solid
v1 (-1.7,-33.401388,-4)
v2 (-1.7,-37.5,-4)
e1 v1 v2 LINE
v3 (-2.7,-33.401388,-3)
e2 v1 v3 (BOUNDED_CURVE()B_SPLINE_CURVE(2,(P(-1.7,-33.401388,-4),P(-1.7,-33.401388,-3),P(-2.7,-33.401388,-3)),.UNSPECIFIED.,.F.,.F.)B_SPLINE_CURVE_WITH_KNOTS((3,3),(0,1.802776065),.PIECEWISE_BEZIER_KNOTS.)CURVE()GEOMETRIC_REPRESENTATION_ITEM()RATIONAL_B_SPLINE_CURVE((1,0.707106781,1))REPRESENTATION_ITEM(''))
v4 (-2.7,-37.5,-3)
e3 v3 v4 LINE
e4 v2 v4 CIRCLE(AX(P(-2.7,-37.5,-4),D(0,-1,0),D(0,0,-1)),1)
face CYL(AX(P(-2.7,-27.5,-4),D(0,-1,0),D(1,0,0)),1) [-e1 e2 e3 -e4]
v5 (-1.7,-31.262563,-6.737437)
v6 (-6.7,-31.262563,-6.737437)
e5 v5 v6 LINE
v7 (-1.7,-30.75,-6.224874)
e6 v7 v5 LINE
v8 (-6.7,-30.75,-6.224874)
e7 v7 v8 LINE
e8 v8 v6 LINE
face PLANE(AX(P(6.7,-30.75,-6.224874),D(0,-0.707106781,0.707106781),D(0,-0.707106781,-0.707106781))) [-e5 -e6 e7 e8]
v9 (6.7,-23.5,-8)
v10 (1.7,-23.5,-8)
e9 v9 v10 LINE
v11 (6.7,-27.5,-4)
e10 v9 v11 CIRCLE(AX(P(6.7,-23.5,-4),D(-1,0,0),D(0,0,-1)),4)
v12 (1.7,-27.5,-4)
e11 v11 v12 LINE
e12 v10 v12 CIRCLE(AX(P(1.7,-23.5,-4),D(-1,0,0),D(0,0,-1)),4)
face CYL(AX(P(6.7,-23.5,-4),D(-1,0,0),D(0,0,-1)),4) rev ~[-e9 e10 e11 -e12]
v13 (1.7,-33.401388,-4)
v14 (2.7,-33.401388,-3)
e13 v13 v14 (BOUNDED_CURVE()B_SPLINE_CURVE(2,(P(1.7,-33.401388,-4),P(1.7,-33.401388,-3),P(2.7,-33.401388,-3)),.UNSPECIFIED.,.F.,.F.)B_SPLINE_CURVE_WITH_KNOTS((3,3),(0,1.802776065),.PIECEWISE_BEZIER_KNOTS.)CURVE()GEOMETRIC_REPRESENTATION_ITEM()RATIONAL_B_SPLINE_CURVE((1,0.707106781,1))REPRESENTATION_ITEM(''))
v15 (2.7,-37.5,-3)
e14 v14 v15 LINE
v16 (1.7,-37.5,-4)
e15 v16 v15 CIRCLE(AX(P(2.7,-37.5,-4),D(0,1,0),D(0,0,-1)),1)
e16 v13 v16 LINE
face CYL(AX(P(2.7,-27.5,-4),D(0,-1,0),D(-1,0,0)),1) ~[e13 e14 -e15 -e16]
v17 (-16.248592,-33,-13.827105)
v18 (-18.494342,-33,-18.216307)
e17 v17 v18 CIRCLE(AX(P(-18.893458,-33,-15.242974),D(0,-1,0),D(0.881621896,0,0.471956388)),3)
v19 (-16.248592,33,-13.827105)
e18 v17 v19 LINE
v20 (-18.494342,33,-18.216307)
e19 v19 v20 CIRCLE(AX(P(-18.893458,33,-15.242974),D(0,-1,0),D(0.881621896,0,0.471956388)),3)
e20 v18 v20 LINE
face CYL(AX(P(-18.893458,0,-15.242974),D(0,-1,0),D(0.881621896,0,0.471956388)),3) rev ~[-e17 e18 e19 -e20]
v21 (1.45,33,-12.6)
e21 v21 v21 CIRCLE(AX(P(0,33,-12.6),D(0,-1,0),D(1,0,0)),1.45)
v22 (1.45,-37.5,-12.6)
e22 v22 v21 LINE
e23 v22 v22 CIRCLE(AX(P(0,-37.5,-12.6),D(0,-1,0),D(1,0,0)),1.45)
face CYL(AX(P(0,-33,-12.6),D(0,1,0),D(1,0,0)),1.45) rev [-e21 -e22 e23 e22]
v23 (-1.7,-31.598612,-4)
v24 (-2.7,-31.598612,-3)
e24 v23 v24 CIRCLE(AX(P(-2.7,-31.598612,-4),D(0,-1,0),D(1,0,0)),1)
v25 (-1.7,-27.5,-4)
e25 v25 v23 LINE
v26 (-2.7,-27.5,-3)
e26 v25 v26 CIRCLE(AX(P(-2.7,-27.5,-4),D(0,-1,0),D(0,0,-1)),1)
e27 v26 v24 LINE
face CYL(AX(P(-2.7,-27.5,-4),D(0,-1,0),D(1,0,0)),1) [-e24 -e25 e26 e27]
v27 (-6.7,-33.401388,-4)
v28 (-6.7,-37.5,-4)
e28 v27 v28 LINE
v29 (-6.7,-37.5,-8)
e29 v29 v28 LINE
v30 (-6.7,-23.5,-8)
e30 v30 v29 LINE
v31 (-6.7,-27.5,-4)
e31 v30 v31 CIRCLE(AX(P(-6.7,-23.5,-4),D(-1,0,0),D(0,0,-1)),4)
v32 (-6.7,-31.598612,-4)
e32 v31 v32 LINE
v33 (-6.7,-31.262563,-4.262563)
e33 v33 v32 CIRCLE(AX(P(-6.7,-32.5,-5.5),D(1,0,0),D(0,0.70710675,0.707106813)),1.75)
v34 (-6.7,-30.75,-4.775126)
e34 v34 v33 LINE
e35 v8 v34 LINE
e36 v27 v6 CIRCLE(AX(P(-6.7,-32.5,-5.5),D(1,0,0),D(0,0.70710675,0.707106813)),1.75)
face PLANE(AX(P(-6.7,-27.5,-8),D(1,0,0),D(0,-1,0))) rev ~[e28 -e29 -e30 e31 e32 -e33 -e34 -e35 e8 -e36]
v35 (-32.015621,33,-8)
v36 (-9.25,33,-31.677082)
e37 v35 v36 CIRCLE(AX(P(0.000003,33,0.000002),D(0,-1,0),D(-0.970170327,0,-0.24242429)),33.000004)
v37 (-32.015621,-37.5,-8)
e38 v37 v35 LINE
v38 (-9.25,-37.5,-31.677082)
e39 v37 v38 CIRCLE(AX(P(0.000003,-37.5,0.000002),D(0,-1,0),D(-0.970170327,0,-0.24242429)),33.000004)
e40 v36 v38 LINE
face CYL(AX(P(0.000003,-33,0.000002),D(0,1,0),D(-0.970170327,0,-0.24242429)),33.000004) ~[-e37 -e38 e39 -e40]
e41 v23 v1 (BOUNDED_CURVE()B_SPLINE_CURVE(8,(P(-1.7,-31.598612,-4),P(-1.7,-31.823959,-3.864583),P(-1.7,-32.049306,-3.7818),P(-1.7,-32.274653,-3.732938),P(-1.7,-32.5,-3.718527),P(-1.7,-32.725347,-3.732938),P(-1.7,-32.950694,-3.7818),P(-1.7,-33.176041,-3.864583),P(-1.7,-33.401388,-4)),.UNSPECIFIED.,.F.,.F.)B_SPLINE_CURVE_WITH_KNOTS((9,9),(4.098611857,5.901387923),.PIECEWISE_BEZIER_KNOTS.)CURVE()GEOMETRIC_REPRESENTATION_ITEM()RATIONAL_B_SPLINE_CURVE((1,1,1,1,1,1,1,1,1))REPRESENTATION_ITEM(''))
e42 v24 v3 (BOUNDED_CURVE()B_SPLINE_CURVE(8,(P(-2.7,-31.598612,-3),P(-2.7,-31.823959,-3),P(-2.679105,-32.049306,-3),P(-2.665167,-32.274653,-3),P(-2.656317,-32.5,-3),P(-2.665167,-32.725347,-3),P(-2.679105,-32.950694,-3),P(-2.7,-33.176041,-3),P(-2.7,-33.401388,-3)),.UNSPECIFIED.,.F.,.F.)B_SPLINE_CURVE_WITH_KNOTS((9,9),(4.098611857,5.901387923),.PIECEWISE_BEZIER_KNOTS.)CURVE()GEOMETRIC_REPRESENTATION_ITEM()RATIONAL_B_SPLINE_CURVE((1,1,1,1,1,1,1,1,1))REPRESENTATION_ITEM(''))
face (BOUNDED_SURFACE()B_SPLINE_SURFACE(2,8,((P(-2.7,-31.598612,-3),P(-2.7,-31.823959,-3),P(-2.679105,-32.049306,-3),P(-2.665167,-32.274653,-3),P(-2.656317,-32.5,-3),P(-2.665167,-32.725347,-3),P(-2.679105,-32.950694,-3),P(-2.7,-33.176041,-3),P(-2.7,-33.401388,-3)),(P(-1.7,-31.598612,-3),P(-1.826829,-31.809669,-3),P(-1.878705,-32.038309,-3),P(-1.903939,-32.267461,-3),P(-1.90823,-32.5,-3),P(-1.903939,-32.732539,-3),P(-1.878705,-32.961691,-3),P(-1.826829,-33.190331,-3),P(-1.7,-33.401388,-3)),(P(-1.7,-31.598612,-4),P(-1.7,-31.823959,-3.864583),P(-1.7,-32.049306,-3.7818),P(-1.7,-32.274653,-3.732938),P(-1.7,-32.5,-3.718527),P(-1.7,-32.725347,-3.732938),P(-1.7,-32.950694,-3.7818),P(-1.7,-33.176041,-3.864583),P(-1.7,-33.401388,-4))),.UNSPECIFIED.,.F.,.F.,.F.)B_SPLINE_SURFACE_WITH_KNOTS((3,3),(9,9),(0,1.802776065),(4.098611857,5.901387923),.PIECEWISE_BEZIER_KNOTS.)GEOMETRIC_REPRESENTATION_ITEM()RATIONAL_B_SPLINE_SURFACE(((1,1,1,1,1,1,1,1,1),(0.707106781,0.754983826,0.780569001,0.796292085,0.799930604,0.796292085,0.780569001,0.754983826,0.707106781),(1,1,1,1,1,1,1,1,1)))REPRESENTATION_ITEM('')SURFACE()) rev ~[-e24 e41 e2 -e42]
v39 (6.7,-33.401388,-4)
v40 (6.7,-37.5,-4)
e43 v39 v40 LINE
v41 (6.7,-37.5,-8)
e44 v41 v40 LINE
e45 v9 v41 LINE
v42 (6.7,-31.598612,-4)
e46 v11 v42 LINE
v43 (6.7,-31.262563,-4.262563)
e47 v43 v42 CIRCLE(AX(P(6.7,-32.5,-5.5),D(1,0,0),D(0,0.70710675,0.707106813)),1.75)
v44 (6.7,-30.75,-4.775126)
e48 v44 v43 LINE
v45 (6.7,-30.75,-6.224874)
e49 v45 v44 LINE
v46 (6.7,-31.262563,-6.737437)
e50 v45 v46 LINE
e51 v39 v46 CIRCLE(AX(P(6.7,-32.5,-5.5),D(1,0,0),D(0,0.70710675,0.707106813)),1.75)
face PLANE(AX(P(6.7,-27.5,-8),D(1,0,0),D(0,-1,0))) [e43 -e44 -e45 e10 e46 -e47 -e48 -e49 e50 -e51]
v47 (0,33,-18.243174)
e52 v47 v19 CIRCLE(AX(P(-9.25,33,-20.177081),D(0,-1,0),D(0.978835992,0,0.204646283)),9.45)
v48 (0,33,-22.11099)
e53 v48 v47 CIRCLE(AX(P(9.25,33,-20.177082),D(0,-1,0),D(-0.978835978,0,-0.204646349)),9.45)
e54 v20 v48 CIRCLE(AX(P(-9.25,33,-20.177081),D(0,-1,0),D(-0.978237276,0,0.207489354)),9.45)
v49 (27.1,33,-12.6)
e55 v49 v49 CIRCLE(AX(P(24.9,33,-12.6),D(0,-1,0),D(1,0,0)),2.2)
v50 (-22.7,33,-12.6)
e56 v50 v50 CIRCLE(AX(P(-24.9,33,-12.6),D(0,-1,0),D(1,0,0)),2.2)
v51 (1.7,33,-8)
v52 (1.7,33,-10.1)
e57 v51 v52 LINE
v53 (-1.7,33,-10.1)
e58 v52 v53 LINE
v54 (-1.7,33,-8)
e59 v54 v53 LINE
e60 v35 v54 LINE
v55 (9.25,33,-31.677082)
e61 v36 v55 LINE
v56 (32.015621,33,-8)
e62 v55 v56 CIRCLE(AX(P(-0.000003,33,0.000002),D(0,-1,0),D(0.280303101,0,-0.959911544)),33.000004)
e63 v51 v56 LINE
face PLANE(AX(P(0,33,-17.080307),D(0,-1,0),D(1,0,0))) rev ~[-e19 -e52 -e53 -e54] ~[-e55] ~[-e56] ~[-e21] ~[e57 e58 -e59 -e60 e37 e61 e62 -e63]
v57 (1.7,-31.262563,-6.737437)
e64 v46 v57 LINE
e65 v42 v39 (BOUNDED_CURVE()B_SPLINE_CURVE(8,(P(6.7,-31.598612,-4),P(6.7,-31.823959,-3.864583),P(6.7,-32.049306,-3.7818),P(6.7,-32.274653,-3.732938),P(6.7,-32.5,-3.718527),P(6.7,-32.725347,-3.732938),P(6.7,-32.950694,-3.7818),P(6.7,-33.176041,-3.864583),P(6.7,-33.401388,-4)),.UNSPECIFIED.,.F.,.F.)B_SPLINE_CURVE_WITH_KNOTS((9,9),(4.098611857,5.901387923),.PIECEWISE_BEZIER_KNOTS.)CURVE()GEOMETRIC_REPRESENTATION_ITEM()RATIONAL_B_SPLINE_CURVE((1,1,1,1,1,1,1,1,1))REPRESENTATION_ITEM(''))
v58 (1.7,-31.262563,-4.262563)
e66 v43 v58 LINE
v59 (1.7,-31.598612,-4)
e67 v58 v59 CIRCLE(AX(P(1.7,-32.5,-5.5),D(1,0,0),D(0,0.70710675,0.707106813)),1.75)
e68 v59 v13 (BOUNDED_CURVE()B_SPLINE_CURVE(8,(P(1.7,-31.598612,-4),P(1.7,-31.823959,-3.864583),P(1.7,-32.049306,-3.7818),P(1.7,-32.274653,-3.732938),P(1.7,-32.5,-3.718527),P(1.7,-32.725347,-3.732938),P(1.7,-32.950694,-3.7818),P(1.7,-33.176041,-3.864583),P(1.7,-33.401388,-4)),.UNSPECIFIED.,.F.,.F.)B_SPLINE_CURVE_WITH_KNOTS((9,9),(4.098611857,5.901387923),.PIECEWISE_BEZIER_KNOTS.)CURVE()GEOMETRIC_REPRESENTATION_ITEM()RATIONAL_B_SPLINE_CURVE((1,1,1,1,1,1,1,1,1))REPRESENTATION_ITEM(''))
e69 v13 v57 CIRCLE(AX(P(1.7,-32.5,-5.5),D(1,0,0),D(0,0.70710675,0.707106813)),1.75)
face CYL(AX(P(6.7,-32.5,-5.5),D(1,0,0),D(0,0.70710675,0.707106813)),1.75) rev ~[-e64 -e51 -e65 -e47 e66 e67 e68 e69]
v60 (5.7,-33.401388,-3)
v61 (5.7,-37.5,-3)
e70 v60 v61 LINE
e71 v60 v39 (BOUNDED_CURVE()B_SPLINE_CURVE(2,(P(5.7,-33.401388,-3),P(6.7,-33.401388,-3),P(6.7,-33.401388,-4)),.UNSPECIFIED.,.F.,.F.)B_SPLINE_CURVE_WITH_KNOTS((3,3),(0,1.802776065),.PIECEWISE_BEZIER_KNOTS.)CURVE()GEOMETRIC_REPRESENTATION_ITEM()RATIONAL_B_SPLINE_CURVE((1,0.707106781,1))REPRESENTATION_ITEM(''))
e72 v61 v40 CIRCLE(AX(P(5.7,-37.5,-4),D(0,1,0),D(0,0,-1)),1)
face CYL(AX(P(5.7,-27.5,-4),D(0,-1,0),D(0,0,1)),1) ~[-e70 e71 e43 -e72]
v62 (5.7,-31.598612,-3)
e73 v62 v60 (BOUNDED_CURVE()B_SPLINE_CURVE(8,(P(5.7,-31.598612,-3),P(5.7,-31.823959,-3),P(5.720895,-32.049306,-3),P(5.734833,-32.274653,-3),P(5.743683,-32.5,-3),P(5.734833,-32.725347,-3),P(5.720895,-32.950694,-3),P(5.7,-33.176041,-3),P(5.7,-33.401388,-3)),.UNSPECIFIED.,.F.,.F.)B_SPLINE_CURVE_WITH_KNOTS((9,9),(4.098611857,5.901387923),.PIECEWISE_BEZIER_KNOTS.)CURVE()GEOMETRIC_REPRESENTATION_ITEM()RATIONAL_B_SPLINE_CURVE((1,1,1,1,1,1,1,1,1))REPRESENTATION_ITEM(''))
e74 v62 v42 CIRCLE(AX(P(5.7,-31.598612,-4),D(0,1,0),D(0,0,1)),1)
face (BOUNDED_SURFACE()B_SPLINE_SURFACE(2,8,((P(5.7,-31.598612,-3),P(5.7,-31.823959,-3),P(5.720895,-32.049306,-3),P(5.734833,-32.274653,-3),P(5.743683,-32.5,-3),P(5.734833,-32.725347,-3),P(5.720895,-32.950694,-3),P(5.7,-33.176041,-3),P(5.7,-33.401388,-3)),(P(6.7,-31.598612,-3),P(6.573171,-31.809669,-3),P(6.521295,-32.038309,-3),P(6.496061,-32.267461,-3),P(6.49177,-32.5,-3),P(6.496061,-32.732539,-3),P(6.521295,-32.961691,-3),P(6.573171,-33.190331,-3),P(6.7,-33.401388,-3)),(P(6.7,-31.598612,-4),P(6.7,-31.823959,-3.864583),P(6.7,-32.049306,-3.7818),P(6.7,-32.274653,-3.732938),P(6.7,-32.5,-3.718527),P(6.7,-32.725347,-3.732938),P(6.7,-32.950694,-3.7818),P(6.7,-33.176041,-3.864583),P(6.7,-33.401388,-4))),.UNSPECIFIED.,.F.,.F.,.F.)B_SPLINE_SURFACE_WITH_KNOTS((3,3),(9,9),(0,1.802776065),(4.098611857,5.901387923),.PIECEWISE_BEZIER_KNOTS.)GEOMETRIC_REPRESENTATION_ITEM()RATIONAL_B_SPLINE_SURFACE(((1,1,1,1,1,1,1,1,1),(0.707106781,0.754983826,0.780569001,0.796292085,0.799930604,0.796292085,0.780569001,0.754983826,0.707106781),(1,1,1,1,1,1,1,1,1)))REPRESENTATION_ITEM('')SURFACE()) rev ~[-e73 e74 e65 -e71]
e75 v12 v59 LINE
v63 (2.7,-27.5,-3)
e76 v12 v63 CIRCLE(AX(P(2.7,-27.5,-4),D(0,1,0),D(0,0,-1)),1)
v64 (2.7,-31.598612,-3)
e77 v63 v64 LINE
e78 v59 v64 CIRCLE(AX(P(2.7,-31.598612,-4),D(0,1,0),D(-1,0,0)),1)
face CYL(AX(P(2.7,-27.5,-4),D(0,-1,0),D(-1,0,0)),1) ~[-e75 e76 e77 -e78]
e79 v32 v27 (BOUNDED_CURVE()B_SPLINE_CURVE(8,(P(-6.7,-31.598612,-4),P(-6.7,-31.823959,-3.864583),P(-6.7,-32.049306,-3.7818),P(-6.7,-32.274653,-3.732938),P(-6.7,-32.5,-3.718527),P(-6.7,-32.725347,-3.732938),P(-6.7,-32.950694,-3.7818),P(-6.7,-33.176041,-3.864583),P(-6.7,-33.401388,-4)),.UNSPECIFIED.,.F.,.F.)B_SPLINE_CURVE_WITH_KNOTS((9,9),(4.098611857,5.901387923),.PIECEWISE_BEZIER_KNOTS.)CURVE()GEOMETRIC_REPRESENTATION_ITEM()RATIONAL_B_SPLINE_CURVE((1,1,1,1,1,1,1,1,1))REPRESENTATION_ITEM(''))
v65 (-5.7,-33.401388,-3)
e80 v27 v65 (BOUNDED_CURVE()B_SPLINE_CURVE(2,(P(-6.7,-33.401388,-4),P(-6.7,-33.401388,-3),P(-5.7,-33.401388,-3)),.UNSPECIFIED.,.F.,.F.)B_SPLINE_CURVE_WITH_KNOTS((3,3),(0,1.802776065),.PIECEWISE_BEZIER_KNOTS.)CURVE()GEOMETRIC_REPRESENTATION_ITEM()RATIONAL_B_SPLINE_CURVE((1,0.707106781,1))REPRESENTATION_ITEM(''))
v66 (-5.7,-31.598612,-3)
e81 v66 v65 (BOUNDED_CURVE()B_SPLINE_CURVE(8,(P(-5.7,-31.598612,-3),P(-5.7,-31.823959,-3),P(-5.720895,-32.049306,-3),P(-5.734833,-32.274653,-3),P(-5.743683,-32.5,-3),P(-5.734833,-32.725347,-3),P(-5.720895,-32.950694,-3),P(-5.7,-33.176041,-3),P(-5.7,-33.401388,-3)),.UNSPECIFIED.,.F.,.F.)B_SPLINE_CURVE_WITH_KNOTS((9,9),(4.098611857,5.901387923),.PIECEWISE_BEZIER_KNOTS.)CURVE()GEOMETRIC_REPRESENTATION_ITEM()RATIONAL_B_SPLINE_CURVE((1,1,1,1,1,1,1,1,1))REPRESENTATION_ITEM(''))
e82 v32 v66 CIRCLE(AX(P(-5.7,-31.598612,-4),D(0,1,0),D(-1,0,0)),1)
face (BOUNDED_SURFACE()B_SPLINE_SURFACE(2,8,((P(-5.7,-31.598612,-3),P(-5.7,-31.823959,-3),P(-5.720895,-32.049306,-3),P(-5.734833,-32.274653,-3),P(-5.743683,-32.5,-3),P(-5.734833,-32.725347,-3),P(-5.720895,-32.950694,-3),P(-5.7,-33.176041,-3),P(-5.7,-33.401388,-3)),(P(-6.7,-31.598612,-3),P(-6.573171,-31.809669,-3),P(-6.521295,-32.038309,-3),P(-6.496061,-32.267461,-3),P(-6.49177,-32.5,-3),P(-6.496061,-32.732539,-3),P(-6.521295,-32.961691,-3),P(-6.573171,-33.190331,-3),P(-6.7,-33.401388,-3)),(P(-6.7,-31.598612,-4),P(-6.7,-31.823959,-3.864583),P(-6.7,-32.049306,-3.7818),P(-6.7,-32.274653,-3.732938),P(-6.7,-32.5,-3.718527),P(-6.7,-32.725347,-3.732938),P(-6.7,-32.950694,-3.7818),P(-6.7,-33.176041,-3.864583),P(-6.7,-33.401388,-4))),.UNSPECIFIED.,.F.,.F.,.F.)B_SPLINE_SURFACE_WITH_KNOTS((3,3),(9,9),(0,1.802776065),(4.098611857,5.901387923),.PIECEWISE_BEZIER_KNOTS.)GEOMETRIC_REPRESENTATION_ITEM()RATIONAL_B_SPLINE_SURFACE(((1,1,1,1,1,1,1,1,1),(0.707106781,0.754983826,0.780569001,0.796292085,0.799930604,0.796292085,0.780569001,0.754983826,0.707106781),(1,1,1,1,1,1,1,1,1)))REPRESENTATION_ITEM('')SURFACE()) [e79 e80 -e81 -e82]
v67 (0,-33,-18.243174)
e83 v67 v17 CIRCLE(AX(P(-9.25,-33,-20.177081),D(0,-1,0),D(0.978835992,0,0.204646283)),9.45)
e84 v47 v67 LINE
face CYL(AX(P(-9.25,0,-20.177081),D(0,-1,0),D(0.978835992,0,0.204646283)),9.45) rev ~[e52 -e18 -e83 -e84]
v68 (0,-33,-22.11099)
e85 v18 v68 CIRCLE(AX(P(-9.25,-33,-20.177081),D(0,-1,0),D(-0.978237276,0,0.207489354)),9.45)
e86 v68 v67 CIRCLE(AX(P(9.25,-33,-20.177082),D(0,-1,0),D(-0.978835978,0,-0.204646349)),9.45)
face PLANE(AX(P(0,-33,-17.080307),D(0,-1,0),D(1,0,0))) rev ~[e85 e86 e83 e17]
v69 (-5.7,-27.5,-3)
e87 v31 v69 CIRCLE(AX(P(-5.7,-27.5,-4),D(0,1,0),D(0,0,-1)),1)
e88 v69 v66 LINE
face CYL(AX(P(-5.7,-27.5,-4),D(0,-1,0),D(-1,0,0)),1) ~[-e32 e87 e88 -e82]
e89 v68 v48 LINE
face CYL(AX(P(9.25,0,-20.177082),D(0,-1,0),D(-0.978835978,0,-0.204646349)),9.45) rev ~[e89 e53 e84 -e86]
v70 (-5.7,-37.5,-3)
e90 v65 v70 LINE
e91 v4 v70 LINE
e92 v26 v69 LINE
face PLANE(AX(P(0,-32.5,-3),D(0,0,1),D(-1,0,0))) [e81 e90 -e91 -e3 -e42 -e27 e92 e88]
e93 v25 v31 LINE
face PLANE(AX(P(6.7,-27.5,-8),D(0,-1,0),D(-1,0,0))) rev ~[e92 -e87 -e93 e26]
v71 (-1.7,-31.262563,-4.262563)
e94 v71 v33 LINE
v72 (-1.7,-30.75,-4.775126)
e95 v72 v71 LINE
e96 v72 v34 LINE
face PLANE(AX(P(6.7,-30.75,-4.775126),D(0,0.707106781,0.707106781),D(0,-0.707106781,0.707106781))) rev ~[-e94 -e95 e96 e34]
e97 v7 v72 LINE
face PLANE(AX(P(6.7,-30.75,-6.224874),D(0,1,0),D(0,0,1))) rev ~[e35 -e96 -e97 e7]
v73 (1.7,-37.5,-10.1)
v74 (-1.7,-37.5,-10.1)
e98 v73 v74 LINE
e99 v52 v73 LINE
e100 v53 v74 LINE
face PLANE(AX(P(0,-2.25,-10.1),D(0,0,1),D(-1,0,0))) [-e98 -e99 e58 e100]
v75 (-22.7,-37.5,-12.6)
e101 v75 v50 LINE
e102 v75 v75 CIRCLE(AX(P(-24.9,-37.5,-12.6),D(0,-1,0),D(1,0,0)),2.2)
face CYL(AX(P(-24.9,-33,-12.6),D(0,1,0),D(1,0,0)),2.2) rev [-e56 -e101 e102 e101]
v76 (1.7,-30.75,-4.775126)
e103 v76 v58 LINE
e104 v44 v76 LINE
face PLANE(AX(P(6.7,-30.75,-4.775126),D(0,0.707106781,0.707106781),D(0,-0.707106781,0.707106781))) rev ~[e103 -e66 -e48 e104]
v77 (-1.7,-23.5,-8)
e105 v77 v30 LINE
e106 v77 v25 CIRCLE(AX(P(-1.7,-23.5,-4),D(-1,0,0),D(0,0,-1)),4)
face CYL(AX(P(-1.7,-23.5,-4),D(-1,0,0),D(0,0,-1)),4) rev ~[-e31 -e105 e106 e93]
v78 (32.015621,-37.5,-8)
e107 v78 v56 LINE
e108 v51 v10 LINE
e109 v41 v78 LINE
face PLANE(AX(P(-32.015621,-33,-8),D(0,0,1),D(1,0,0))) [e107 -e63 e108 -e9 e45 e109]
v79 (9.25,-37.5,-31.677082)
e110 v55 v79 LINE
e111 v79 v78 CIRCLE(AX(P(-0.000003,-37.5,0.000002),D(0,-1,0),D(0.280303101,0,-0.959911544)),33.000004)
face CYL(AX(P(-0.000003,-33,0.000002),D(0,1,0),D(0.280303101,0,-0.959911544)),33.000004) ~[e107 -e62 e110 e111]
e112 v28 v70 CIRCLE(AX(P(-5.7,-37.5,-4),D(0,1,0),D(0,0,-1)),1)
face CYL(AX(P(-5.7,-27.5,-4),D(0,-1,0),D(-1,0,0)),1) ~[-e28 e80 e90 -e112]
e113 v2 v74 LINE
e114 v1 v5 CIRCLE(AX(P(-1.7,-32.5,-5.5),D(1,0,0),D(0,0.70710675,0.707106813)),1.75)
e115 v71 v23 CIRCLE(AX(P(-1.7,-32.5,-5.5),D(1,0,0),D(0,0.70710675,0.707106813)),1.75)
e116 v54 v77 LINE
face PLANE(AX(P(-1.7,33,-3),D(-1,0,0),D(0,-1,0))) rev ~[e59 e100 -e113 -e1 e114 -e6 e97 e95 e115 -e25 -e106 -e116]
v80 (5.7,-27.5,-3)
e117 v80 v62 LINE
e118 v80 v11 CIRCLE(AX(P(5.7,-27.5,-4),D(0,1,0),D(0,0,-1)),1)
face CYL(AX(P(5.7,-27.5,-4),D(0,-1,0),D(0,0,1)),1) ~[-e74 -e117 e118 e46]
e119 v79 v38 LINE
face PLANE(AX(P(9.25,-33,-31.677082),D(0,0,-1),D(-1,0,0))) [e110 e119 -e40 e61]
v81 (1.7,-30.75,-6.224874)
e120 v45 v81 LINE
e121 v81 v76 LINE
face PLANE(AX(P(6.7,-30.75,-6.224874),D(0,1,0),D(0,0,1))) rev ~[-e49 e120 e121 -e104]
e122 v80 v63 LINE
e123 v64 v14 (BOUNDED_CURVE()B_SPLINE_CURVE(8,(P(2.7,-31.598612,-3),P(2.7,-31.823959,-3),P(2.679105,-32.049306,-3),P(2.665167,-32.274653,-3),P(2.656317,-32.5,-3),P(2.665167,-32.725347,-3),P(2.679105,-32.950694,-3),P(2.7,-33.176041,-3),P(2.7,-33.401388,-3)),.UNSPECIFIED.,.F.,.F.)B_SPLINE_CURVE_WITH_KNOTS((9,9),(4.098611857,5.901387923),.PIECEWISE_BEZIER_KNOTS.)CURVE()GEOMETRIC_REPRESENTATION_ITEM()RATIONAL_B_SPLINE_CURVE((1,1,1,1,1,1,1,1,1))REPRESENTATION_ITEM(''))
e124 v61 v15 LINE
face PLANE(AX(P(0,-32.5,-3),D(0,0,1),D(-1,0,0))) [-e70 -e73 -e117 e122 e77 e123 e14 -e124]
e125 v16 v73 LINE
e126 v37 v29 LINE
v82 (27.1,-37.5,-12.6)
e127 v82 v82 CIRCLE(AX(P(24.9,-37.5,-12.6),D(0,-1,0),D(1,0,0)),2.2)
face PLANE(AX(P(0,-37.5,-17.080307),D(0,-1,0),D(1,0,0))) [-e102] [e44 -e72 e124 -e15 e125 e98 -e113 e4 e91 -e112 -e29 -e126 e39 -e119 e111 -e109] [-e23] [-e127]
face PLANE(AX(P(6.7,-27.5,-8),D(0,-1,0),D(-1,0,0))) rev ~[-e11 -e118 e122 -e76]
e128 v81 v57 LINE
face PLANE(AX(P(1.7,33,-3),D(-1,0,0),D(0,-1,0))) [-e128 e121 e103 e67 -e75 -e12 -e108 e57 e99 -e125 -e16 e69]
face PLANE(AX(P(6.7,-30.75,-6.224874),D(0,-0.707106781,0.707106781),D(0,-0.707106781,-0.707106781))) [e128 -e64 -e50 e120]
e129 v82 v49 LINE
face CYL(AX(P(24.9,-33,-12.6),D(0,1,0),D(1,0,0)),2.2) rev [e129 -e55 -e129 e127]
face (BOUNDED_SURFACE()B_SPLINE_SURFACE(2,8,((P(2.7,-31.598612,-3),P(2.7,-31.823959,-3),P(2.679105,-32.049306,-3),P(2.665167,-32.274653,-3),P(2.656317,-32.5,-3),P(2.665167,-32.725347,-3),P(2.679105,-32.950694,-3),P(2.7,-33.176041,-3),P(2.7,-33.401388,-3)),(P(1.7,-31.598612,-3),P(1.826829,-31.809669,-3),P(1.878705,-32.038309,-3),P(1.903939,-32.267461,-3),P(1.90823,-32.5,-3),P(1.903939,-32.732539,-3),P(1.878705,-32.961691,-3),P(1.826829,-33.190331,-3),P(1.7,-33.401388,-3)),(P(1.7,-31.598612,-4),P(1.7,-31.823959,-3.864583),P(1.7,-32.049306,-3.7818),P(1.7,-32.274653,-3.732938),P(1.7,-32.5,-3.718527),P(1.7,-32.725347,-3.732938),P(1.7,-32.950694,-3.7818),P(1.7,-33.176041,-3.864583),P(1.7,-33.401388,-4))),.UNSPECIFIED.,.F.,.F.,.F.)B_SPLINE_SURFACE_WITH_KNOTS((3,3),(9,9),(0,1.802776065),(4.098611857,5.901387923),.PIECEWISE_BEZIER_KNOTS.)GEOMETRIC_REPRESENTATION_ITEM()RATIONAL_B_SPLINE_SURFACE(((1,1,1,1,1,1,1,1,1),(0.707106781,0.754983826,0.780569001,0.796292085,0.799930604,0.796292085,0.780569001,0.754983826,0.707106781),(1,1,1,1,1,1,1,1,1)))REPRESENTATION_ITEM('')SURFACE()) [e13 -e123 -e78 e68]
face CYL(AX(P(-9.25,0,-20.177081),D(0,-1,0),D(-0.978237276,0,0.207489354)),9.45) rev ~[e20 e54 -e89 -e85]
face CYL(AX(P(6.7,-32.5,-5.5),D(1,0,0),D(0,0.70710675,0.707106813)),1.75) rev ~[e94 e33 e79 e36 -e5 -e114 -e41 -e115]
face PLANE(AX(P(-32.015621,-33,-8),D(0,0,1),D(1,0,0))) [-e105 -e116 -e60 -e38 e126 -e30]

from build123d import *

# Parameters (mm, degrees)
SKETCH_R        = 2.2
SKETCH_R_2      = 1.45
PAD_DEPTH       = 33
SKETCH037_R     = 2.2
SKETCH037_R_2   = 1.45
PAD016_DEPTH    = 4.5
SKETCH039_W     = 13.4
SKETCH039_H     = 10
PAD017_DEPTH    = 5
POCKET018_DEPTH = 13.4
SKETCH041_W     = 3.4
SKETCH041_H     = 70.5
POCKET019_DEPTH = 7.1
FILLET006_R     = 1
FILLET007_R     = 4


with BuildPart() as part:
    # Sketch → Pad (new body, symmetric)
    with BuildSketch(Plane.XZ):
        with BuildLine():
            Line((-9.25, -31.677082), (9.25, -31.677082))
            ThreePointArc((9.25, -31.677082), (23.787894, -22.872168), (32.015621, -8))
            Line((-32.015621, -8), (32.015621, -8))
            ThreePointArc((-32.015621, -8), (-23.787894, -22.872168), (-9.25, -31.677082))
        make_face()
        with Locations((24.9, -12.6)):
            Circle(SKETCH_R, mode=Mode.SUBTRACT)
        with Locations((-24.9, -12.6)):
            Circle(SKETCH_R, mode=Mode.SUBTRACT)
        with Locations((0, -12.6)):
            Circle(SKETCH_R_2, mode=Mode.SUBTRACT)
        with BuildLine():
            ThreePointArc((0, -18.243174), (-6.771568, -11.057878), (-16.248592, -13.827105))
            ThreePointArc((-16.248592, -13.827105), (-21.564175, -13.876493), (-18.494342, -18.216307))
            ThreePointArc((-18.494342, -18.216307), (-11.197344, -29.424262), (0, -22.11099))
            ThreePointArc((0, -22.11099), (18.7, -20.177082), (0, -18.243174))
        make_face(mode=Mode.SUBTRACT)
    extrude(amount=PAD_DEPTH, both=True)

    # Sketch037 (on Face13 of Pad) → Pad016 (join)
    with BuildSketch(Plane.XZ.offset(33)):
        with BuildLine():
            ThreePointArc((-32.015621, -8), (-23.787894, -22.872168), (-9.25, -31.677082))
            Line((9.25, -31.677082), (-9.25, -31.677082))
            ThreePointArc((9.25, -31.677082), (23.787894, -22.872168), (32.015621, -8))
            Line((-32.015621, -8), (32.015621, -8))
        make_face()
        with Locations((-24.9, -12.6)):
            Circle(SKETCH037_R, mode=Mode.SUBTRACT)
        with Locations((0, -12.6)):
            Circle(SKETCH037_R_2, mode=Mode.SUBTRACT)
        with Locations((24.9, -12.6)):
            Circle(SKETCH037_R, mode=Mode.SUBTRACT)
    extrude(amount=PAD016_DEPTH)

    # Sketch039 → Pad017 (join)
    with BuildSketch(Plane(origin=(0, 0, -8), x_dir=(-1, 0, 0), z_dir=(0, 0, 1))):
        with Locations((0, 32.5)):
            Rectangle(SKETCH039_W, SKETCH039_H)
    extrude(amount=PAD017_DEPTH)

    # Sketch040 (on Face8 of Pad017) → Pocket018 (cut)
    with BuildSketch(Plane(origin=(6.7, 0, 0), x_dir=(0, 0, 1), z_dir=(1, 0, 0))):
        with BuildLine():
            Line((-6.224874, 30.75), (-4.775126, 30.75))
            Line((-4.775126, 30.75), (-4.262563, 31.262563))
            ThreePointArc((-4.262563, 31.262563), (-5.5, 34.25), (-6.737437, 31.262563))
            Line((-6.224874, 30.75), (-6.737437, 31.262563))
        make_face()
    extrude(amount=-POCKET018_DEPTH, mode=Mode.SUBTRACT)

    # Sketch041 (on Face22 of Pocket018) → Pocket019 (cut)
    with BuildSketch(Plane(origin=(0, 0, -3), x_dir=(-1, 0, 0), z_dir=(0, 0, 1))):
        with Locations((0, 2.25)):
            Rectangle(SKETCH041_W, SKETCH041_H)
    extrude(amount=-POCKET019_DEPTH, mode=Mode.SUBTRACT)

    # Fillet006
    fillet006_edges = [part.edges().sort_by_distance(p)[0] for p in [
        (6.7, -32.5, -3),
        (1.7, -32.5, -3),
        (-1.7, -32.5, -3),
        (-6.7, -32.5, -3),
    ]]
    fillet(fillet006_edges, radius=FILLET006_R)

    # Fillet007
    fillet007_edges = [part.edges().sort_by_distance(p)[0] for p in [
        (-4.2, -27.5, -8),
        (4.2, -27.5, -8),
    ]]
    fillet(fillet007_edges, radius=FILLET007_R)


solid = part.part
